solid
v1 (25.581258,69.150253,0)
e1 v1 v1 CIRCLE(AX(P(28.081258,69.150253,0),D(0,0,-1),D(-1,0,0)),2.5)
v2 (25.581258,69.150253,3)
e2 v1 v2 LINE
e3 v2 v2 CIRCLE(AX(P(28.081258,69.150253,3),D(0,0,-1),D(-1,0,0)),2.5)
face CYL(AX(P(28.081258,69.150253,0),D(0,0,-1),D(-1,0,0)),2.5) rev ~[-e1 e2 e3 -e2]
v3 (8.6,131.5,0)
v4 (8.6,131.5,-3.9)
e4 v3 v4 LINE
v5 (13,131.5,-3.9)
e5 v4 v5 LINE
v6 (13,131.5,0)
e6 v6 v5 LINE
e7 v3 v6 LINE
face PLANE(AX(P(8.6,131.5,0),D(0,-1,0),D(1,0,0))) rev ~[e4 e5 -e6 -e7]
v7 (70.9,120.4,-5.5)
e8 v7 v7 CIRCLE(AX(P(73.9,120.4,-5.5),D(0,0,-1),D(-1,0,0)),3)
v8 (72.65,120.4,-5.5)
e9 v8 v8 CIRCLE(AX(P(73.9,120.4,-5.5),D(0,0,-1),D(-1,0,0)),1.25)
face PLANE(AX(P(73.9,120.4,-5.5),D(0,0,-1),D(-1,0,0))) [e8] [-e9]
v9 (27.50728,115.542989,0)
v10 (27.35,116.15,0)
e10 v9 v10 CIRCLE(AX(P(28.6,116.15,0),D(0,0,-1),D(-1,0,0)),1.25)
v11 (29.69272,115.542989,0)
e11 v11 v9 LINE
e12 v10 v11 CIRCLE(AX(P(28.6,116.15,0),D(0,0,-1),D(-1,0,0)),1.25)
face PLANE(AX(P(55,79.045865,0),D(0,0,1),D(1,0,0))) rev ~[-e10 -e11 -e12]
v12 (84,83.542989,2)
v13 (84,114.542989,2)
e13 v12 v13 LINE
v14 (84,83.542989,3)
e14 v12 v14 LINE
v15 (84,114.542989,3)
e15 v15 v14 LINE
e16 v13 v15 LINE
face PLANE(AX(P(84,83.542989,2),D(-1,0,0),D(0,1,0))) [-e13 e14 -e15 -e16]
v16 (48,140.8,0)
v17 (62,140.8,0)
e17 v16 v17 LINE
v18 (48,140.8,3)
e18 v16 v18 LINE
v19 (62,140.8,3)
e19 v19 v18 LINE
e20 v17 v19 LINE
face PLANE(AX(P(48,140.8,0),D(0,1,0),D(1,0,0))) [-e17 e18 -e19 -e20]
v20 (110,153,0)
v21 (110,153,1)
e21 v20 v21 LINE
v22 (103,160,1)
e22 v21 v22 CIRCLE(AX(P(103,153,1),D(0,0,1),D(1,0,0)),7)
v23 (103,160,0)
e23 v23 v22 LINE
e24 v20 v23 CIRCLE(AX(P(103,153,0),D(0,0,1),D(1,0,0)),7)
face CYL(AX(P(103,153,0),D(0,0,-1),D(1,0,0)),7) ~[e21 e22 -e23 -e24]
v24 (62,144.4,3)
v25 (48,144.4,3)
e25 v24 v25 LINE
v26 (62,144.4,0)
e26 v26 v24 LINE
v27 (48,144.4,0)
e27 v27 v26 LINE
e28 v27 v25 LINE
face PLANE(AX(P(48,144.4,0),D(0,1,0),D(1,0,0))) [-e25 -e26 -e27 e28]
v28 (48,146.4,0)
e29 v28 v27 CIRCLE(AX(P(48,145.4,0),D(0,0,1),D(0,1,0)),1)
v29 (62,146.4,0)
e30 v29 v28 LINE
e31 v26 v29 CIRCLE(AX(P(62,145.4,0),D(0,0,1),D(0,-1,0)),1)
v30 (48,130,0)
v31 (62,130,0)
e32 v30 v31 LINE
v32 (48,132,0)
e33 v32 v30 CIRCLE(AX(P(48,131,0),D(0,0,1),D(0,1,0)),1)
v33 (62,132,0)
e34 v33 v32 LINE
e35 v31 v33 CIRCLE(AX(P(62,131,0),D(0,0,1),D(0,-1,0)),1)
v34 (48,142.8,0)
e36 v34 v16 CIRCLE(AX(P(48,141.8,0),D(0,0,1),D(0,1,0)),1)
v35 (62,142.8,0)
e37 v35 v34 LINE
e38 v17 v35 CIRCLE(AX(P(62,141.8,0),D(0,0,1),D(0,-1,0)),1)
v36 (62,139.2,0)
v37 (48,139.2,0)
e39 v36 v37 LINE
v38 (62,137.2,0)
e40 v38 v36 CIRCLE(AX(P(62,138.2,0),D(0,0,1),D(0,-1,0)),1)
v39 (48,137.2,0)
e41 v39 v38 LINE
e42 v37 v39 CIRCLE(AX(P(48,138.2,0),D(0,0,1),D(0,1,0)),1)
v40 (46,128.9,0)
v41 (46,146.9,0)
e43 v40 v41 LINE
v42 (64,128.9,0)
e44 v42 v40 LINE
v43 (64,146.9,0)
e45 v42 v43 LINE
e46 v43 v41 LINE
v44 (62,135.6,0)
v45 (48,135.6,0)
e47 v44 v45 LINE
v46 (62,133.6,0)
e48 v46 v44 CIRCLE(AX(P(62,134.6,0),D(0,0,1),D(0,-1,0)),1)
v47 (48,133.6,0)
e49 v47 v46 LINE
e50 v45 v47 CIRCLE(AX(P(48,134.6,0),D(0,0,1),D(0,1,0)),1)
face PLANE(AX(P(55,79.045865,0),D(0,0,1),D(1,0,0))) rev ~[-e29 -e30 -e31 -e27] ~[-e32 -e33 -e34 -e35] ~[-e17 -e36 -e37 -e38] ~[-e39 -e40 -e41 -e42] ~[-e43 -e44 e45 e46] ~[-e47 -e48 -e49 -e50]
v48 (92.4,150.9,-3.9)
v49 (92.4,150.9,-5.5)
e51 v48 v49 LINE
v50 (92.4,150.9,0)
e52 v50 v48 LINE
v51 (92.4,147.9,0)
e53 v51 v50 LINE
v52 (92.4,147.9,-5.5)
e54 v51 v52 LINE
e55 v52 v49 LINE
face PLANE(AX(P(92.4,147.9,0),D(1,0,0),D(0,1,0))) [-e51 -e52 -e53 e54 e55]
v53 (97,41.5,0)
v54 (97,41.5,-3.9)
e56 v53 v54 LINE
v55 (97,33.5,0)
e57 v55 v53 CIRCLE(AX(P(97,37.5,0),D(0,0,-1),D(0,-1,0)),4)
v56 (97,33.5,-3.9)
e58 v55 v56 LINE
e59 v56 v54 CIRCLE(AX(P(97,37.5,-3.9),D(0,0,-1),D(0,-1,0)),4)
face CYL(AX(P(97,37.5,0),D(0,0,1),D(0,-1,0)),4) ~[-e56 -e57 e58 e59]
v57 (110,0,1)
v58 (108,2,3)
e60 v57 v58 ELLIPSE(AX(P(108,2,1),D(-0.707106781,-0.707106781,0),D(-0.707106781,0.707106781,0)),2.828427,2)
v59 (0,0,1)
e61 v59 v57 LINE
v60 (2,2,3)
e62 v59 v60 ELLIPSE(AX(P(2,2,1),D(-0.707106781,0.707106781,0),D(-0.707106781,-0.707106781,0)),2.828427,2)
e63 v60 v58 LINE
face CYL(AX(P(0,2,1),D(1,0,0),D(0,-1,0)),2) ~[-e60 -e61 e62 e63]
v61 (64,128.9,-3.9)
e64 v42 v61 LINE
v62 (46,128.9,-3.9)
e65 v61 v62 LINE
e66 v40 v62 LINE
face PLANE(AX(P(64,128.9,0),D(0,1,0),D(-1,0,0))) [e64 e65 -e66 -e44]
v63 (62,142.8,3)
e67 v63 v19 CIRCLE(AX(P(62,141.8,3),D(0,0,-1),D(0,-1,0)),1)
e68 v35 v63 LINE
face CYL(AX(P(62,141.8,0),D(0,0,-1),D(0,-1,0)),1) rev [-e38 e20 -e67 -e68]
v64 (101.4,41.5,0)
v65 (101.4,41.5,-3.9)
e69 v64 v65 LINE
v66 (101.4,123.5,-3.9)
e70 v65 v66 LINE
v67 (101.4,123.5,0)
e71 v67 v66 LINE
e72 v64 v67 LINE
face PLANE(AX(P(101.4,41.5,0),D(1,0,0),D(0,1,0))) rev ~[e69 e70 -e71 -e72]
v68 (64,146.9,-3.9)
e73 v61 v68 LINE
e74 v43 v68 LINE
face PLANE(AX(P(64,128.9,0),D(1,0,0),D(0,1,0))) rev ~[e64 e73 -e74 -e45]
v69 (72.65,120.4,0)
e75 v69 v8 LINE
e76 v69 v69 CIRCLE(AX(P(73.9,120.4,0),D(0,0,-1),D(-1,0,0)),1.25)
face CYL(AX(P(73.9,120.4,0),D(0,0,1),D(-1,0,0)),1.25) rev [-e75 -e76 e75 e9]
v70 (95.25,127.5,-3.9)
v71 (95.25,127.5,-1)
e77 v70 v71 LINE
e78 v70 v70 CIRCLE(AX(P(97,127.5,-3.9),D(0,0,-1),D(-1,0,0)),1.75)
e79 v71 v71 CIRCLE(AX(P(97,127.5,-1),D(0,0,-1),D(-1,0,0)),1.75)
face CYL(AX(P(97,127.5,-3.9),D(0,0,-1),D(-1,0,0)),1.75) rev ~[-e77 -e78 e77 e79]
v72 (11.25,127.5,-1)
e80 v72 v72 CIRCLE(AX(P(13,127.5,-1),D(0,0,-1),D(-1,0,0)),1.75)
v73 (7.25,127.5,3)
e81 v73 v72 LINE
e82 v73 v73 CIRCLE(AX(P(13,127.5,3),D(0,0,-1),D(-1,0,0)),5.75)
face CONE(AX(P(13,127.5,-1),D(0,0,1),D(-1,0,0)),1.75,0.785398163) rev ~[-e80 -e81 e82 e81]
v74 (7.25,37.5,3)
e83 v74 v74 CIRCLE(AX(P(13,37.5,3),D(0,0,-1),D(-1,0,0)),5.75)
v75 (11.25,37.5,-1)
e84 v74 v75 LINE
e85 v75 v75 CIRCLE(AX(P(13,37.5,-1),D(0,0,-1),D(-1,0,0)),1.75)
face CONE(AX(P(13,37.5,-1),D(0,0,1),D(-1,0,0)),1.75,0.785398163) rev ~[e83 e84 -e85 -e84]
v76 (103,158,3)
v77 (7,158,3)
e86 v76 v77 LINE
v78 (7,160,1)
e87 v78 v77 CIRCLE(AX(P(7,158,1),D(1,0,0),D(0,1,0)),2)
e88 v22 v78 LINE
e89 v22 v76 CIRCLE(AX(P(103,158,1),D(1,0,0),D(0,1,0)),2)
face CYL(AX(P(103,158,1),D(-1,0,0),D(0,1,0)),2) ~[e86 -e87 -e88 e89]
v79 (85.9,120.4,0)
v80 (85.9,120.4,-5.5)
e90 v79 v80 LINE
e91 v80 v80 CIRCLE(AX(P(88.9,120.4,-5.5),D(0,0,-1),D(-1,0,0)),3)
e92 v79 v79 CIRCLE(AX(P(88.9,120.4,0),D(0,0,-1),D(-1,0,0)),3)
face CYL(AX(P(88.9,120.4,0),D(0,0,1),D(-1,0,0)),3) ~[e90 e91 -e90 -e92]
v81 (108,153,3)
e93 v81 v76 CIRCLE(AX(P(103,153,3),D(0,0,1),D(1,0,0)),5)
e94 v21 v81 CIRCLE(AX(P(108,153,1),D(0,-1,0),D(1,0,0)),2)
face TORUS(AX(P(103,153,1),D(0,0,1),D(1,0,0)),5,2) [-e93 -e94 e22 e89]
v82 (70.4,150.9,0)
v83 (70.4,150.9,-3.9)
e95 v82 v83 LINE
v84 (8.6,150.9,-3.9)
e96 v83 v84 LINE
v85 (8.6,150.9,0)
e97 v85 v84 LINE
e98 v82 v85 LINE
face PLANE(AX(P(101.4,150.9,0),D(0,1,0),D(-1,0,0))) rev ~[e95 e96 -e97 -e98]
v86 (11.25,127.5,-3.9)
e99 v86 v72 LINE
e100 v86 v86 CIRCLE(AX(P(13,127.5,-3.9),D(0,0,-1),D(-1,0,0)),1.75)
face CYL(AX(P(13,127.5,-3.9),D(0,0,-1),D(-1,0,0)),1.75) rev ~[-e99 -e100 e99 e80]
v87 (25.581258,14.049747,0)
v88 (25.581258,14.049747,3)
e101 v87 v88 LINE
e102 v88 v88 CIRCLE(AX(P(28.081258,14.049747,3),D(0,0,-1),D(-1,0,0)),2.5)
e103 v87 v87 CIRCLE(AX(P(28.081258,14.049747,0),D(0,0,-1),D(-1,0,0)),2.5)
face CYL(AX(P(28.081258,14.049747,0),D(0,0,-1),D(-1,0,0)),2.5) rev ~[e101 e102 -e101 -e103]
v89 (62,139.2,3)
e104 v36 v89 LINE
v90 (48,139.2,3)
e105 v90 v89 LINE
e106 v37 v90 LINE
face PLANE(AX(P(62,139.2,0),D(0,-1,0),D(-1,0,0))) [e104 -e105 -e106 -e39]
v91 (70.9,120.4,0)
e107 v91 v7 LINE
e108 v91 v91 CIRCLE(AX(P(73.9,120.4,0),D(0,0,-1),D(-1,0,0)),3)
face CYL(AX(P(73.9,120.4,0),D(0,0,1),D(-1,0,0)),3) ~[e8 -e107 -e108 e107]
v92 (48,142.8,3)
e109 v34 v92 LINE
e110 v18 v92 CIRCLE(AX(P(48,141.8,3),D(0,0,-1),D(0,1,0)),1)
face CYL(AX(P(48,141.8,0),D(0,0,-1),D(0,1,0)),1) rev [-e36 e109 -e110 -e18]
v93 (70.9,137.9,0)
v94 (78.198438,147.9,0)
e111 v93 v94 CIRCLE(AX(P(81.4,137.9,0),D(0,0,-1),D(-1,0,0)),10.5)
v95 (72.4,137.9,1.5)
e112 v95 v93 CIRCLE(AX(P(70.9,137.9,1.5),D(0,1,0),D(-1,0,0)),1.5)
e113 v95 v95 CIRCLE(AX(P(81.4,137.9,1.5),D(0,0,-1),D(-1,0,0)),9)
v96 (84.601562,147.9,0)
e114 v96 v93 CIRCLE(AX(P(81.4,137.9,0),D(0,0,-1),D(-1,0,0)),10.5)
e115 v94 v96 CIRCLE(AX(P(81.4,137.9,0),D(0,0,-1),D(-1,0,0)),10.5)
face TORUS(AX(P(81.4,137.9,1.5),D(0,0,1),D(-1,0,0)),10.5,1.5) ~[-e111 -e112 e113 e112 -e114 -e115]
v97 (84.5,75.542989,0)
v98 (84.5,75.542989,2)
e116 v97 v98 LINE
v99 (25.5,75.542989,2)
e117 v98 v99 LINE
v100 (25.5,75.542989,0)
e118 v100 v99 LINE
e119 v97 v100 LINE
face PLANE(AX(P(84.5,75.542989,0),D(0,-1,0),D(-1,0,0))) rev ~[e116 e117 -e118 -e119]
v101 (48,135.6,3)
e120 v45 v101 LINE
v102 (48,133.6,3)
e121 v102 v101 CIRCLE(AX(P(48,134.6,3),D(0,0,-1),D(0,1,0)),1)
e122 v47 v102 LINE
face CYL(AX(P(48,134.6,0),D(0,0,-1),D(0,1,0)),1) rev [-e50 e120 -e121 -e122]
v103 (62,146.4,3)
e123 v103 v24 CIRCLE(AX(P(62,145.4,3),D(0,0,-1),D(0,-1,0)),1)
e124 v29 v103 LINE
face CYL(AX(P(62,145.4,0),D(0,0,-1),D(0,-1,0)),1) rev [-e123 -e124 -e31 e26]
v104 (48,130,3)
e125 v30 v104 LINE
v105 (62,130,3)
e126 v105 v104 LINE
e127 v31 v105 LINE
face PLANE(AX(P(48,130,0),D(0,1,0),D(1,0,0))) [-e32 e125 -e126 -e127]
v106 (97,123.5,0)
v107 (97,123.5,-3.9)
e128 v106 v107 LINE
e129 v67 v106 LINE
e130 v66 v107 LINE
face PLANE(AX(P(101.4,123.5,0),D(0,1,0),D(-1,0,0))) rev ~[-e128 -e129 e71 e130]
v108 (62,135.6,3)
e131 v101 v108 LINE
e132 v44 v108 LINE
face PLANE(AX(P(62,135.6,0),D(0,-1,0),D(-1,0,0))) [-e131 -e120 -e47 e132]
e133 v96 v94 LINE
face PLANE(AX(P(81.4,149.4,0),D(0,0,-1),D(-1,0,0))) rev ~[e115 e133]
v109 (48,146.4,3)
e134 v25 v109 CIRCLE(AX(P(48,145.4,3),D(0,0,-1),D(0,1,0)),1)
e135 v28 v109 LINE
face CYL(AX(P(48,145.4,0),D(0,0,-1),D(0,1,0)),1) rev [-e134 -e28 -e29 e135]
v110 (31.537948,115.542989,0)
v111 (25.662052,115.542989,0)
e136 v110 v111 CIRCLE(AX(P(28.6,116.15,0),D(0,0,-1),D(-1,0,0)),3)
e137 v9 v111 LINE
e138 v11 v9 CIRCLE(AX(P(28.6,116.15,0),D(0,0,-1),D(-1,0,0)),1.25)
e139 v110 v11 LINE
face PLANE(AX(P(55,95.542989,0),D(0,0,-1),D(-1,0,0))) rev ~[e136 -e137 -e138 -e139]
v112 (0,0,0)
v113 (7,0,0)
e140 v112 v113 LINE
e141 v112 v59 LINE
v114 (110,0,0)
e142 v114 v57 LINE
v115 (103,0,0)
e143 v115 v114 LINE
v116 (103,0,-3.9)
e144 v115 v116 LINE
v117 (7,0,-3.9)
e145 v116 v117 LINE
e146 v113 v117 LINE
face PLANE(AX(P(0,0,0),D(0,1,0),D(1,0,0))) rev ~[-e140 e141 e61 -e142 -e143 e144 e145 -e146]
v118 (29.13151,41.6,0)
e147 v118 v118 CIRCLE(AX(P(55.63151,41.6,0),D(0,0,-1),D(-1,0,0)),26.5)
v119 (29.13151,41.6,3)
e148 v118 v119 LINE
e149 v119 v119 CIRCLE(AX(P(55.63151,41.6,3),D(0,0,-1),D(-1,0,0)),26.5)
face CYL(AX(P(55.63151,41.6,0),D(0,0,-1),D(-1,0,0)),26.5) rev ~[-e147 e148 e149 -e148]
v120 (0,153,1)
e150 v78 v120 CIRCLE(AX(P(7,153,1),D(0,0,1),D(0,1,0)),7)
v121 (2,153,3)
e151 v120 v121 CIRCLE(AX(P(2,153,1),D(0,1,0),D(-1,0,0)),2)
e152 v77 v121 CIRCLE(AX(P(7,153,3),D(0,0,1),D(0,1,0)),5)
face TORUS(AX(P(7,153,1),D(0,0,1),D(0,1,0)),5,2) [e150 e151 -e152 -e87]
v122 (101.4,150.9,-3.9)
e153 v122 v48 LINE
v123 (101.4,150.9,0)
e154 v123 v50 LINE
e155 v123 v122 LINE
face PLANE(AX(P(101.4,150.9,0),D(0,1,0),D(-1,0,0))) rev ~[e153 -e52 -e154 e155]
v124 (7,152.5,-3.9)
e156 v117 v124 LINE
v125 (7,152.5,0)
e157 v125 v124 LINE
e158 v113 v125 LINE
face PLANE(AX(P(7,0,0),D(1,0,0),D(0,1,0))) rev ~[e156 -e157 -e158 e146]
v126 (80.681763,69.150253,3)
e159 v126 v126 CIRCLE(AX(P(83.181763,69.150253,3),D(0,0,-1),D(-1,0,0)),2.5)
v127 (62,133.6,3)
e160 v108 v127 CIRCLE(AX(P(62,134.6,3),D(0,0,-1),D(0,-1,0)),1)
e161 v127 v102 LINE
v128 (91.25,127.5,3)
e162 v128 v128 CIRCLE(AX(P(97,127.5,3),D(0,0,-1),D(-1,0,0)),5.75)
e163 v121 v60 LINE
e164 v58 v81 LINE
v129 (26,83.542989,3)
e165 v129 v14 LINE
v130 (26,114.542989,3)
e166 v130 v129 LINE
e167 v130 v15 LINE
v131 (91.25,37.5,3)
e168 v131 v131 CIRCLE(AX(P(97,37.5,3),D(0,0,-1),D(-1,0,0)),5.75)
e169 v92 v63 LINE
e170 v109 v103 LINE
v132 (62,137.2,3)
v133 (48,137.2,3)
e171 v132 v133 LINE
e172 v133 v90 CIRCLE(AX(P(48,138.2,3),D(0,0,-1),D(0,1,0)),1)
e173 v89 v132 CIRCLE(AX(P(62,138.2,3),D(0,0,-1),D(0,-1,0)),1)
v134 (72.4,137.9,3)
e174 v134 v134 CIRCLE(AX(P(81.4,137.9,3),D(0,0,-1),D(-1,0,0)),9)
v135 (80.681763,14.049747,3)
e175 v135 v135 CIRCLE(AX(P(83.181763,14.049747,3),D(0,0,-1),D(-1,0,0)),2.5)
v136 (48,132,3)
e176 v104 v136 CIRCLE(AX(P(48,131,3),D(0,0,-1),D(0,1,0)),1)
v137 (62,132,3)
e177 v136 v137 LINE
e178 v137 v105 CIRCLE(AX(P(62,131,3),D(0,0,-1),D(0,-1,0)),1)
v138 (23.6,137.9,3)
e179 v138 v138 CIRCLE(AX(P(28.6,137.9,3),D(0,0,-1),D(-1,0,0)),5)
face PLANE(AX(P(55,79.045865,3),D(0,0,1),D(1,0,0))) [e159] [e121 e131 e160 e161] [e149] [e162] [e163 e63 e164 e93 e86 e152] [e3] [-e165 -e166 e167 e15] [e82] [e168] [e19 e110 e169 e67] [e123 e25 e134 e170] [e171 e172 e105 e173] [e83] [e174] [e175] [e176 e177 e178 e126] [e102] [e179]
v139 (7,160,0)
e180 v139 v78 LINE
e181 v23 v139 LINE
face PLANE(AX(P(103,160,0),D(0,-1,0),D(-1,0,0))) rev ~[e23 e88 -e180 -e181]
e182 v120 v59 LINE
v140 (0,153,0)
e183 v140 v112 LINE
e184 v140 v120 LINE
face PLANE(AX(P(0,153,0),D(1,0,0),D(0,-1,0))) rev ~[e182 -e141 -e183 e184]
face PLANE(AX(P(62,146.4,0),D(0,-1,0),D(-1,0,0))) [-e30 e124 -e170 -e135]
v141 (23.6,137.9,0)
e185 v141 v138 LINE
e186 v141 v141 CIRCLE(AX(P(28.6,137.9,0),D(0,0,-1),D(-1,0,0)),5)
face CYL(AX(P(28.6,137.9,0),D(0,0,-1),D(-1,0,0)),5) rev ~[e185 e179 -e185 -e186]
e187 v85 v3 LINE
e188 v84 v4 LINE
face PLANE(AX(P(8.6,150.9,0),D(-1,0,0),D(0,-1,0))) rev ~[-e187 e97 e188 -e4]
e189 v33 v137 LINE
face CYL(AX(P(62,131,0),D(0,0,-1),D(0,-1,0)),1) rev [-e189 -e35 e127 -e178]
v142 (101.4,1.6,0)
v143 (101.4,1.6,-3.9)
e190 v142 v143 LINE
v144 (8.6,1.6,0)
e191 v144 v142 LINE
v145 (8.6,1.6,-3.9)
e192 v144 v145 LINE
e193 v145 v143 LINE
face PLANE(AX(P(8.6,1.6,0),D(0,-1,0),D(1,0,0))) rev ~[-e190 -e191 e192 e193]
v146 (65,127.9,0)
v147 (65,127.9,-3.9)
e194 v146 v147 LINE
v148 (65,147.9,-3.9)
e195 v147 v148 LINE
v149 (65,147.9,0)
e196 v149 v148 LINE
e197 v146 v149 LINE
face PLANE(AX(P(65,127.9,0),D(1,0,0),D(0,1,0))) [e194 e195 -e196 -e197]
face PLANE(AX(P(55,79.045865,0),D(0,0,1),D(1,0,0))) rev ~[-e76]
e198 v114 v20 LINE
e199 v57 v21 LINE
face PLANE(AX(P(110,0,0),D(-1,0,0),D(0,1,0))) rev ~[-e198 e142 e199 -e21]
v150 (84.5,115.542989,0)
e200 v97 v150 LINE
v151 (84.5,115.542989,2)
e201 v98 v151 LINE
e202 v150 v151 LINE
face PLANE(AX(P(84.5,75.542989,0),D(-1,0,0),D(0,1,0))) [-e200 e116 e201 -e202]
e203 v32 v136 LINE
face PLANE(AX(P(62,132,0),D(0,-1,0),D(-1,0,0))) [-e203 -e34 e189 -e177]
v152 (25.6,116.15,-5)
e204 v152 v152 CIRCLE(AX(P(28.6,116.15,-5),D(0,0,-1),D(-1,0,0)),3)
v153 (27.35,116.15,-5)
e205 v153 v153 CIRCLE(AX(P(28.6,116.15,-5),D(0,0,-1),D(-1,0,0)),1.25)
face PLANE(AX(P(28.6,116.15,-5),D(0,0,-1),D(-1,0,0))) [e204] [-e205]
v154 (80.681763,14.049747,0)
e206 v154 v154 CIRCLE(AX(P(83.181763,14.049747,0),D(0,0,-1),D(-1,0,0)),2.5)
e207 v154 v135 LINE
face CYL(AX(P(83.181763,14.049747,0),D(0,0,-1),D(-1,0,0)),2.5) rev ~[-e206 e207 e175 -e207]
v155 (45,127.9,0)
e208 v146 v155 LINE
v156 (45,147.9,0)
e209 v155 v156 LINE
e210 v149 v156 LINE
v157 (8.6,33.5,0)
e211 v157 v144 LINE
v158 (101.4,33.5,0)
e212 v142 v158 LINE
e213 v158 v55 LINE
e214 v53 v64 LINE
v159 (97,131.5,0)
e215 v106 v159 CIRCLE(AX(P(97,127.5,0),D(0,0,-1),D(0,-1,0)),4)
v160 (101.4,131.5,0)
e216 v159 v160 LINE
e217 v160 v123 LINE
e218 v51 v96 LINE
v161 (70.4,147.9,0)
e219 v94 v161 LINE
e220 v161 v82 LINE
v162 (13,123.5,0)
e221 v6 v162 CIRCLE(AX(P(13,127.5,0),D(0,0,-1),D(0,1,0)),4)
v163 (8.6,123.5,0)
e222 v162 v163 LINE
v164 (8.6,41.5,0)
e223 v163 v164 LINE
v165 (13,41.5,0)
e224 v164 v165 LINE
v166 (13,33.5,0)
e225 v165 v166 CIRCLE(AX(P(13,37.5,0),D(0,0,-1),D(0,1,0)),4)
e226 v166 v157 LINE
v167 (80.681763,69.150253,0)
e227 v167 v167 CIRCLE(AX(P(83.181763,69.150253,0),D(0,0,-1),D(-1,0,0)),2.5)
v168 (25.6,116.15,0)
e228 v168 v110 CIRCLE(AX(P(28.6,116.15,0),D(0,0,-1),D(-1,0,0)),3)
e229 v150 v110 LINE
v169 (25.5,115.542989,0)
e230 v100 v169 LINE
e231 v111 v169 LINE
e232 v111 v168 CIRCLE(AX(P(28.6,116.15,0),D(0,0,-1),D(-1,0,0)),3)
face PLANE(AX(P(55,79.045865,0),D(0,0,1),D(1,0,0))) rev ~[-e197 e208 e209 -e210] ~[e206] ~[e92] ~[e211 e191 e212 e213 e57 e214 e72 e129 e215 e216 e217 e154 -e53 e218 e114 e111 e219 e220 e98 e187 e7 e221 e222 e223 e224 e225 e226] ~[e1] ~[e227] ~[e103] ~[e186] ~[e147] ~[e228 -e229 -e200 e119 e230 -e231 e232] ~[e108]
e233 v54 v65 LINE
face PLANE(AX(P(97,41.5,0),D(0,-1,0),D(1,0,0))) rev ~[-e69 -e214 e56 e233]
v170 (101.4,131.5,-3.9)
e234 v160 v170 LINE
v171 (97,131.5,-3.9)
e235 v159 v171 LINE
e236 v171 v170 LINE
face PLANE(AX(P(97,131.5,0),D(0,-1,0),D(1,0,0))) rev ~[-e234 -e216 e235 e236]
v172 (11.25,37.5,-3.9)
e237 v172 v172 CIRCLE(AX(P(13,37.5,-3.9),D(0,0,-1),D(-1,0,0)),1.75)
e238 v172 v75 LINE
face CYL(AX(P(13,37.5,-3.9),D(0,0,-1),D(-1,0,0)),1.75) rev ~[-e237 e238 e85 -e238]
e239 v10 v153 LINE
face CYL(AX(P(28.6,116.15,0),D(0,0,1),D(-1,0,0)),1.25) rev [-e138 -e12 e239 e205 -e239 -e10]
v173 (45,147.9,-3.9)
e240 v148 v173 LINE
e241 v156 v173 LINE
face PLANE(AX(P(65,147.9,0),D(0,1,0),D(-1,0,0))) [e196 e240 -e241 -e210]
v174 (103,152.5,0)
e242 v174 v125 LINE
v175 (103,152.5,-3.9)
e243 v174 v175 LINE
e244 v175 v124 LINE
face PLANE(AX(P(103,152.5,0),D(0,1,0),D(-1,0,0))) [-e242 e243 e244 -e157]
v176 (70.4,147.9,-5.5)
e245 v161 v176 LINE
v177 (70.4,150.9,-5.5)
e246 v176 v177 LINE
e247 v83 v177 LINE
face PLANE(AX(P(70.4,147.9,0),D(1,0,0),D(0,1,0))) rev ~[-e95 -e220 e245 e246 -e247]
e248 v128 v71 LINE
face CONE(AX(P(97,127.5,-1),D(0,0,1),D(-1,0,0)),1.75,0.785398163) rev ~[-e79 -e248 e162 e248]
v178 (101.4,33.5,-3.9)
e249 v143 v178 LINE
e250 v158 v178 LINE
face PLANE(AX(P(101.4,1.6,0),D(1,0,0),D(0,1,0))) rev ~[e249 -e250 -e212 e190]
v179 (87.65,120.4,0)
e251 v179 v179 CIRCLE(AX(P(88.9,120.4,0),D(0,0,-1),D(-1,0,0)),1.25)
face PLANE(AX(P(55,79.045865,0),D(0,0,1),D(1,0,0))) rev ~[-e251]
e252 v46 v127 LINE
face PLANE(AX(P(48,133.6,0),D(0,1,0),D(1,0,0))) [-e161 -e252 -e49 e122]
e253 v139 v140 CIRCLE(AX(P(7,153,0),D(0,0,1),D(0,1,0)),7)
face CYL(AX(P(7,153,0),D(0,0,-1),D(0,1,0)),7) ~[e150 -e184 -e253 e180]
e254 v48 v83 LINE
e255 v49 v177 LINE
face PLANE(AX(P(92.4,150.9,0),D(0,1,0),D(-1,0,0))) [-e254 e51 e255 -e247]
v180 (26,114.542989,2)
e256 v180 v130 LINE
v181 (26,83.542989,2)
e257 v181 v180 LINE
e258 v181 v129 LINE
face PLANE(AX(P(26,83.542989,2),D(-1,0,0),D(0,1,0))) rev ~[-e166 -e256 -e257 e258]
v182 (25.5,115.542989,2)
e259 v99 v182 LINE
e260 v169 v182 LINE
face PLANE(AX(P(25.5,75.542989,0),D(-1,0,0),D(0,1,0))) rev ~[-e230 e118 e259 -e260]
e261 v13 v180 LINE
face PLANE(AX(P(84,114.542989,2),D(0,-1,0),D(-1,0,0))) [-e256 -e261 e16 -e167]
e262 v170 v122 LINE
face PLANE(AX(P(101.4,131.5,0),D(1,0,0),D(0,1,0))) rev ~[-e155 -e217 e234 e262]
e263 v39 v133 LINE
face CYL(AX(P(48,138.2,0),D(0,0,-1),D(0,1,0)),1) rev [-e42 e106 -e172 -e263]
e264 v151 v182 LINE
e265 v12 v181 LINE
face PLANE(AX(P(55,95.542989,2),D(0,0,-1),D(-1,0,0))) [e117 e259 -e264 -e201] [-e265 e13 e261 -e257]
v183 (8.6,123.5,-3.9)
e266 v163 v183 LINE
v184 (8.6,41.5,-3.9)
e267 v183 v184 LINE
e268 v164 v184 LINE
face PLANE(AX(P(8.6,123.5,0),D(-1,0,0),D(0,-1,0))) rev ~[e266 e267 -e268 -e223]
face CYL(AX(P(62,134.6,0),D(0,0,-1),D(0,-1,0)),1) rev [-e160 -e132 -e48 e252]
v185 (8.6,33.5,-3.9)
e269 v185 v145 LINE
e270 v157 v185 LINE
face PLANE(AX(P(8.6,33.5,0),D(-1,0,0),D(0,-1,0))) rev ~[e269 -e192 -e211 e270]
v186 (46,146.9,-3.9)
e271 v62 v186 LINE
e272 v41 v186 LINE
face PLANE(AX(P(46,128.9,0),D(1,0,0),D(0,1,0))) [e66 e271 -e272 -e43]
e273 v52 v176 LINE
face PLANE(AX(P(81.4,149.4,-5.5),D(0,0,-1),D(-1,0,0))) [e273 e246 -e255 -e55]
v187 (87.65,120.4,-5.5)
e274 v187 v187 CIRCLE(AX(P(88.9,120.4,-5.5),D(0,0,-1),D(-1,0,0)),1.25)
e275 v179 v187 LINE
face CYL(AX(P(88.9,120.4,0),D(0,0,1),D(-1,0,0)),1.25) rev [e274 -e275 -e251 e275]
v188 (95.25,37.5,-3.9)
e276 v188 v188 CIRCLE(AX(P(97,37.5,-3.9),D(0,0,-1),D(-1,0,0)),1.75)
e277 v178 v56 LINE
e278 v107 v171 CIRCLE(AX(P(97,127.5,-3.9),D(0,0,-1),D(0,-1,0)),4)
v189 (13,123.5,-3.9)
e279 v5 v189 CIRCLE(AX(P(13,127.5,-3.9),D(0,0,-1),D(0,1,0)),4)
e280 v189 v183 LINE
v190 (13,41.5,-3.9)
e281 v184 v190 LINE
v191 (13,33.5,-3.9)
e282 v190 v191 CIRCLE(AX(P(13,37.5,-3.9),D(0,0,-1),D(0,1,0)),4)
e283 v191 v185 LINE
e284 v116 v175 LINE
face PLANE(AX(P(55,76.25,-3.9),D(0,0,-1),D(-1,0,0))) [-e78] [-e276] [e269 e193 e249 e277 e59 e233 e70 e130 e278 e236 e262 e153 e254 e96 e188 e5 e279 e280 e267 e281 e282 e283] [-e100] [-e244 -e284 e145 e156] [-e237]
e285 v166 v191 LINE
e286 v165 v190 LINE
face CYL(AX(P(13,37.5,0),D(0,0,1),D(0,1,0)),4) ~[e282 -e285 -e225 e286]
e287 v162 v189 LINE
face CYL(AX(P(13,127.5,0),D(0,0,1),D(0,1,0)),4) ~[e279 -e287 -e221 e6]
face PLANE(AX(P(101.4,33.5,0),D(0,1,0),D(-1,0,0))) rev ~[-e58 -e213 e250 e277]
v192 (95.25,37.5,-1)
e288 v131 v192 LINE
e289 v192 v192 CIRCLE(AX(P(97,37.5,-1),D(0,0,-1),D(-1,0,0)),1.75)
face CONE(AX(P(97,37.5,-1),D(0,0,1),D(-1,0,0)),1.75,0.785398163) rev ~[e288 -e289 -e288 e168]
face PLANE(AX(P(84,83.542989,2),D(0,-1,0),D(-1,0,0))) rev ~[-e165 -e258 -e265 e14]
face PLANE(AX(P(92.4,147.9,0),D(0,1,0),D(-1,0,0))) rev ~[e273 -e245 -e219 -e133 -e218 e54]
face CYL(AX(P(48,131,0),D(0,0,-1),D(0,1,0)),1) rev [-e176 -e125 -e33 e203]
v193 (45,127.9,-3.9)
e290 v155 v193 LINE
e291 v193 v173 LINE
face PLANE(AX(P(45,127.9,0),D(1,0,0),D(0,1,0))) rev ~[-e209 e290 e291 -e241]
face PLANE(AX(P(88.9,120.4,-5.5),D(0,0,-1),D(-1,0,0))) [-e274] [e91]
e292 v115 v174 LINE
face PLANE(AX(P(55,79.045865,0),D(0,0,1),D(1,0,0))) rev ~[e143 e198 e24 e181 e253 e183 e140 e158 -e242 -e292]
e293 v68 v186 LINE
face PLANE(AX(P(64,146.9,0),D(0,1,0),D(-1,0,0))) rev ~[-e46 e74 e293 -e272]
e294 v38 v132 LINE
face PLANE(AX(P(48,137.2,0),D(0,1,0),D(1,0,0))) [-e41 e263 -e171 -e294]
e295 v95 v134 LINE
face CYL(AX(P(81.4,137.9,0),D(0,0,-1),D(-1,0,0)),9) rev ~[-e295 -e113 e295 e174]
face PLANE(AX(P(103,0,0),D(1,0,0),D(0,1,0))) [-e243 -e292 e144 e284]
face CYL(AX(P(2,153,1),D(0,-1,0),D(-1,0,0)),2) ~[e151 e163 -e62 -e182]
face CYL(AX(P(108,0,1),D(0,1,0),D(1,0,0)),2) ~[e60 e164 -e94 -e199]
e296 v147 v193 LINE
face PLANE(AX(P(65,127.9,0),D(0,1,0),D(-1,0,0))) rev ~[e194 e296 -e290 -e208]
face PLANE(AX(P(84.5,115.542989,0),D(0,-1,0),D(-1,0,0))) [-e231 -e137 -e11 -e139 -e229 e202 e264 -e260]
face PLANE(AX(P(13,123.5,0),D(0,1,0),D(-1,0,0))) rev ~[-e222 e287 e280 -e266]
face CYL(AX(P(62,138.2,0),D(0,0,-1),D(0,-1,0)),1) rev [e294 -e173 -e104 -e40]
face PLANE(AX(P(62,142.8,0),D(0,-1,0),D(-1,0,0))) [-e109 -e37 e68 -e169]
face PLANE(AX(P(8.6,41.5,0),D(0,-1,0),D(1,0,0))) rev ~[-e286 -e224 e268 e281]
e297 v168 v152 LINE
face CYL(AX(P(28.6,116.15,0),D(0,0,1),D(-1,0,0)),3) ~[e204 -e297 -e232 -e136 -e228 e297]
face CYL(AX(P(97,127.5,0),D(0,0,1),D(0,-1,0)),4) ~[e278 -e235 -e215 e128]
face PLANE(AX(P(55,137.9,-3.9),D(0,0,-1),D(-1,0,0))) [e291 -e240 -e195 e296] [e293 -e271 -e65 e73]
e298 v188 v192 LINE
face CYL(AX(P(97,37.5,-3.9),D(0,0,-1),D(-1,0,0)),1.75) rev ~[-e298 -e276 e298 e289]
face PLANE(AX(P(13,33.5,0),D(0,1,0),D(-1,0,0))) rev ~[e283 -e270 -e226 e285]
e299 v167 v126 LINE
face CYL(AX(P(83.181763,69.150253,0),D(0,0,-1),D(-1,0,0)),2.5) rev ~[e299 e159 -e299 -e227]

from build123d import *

# Parameters (mm, degrees)
BOSS_EXTRUDE1_DEPTH     = 3
FILLET1_R               = 2
SKETCH3_W               = 96
SKETCH3_H               = 152.5
BOSS_EXTRUDE2_DEPTH     = 3.9
CUT_EXTRUDE1_REACH      = 196.287
SKETCH4_R               = 1.75
CHAMFER1_SIZE           = 4
SKETCH5_R               = 5
SKETCH5_R_2             = 9
CUT_EXTRUDE2_DEPTH      = 195.204042265
FILLET2_R               = 1.5
SKETCH7_W               = 20
SKETCH7_H               = 20
SKETCH7_W_2             = 18
SKETCH7_H_2             = 18
BOSS_EXTRUDE3_DEPTH     = 3.9
CUT_EXTRUDE3_DEPTH      = 195.204042265
CROQUIS1_R              = 3
CROQUIS1_R_2            = 1.25
SALIENTE_EXTRUIR1_DEPTH = 5
CROQUIS2_R              = 3
CROQUIS2_R_2            = 1.25
CROQUIS2_W              = 22
CROQUIS2_H              = 3
SALIENTE_EXTRUIR2_DEPTH = 5.5
CORTAR_EXTRUIR1_REACH   = 196.243
CROQUIS3_R              = 26.5
CORTAR_EXTRUIR2_REACH   = 196.243
CROQUIS4_R              = 2.5
CROQUIS5_W              = 59
CROQUIS5_H              = 40
CORTAR_EXTRUIR3_DEPTH   = 2
CROQUIS6_W              = 58
CROQUIS6_H              = 31
CORTAR_EXTRUIR4_DEPTH   = 2


with BuildPart() as part:
    # Sketch1 → Boss-Extrude1 (new body)
    with BuildSketch(Plane.XY):
        with BuildLine():
            Line((0, 0), (110, 0))
            Line((110, 0), (110, 153))
            ThreePointArc((110, 153), (107.949747468, 157.949747468), (103, 160))
            Line((103, 160), (7, 160))
            ThreePointArc((7, 160), (2.050252532, 157.949747468), (0, 153))
            Line((0, 153), (0, 0))
        make_face()
    extrude(amount=BOSS_EXTRUDE1_DEPTH)

    # Fillet1
    fillet1_edges = [part.edges().sort_by_distance(p)[0] for p in [
        (110, 76.5, 3),
        (107.949747468, 157.949747468, 3),
        (55, 160, 3),
        (2.050252532, 157.949747468, 3),
        (0, 76.5, 3),
        (55, 0, 3),
    ]]
    fillet(fillet1_edges, radius=FILLET1_R)

    # Sketch3 → Boss-Extrude2 (add)
    with BuildSketch(Plane(origin=(0, 0, 0), x_dir=(-1, 0, 0), z_dir=(0, 0, -1))):
        with Locations((-55, 76.25)):
            Rectangle(SKETCH3_W, SKETCH3_H)
        with BuildLine():
            Line((-101.4, 1.6), (-101.4, 33.5))
            Line((-101.4, 33.5), (-97, 33.5))
            ThreePointArc((-97, 33.5), (-93, 37.5), (-97, 41.5))
            Line((-97, 41.5), (-101.4, 41.5))
            Line((-101.4, 41.5), (-101.4, 123.5))
            Line((-101.4, 123.5), (-97, 123.5))
            ThreePointArc((-97, 123.5), (-93, 127.5), (-97, 131.5))
            Line((-97, 131.5), (-101.4, 131.5))
            Line((-101.4, 131.5), (-101.4, 150.9))
            Line((-101.4, 150.9), (-8.6, 150.9))
            Line((-8.6, 150.9), (-8.6, 131.5))
            Line((-8.6, 131.5), (-13, 131.5))
            ThreePointArc((-13, 131.5), (-17, 127.5), (-13, 123.5))
            Line((-13, 123.5), (-8.6, 123.5))
            Line((-8.6, 123.5), (-8.6, 41.5))
            Line((-8.6, 41.5), (-13, 41.5))
            ThreePointArc((-13, 41.5), (-17, 37.5), (-13, 33.5))
            Line((-13, 33.5), (-8.6, 33.5))
            Line((-8.6, 33.5), (-8.6, 1.6))
            Line((-8.6, 1.6), (-101.4, 1.6))
        make_face(mode=Mode.SUBTRACT)
    extrude(amount=BOSS_EXTRUDE2_DEPTH)

    # Sketch4 → Cut-Extrude1 (cut, up to next)
    with BuildSketch(Plane(origin=(0, 0, -3.9), x_dir=(-1, 0, 0), z_dir=(0, 0, -1)), mode=Mode.PRIVATE) as cut_extrude1_sk1:
        with Locations((-97, 127.5)):
            Circle(SKETCH4_R)
    cut_extrude1_tool1 = extrude(cut_extrude1_sk1.sketch, amount=-CUT_EXTRUDE1_REACH, mode=Mode.PRIVATE) & part.part
    # Sketch4 → Cut-Extrude1 (cut, up to next)
    with BuildSketch(Plane(origin=(0, 0, -3.9), x_dir=(-1, 0, 0), z_dir=(0, 0, -1)), mode=Mode.PRIVATE) as cut_extrude1_sk2:
        with Locations((-13, 127.5)):
            Circle(SKETCH4_R)
    cut_extrude1_tool2 = extrude(cut_extrude1_sk2.sketch, amount=-CUT_EXTRUDE1_REACH, mode=Mode.PRIVATE) & part.part
    # Sketch4 → Cut-Extrude1 (cut, up to next)
    with BuildSketch(Plane(origin=(0, 0, -3.9), x_dir=(-1, 0, 0), z_dir=(0, 0, -1)), mode=Mode.PRIVATE) as cut_extrude1_sk3:
        with Locations((-13, 37.5)):
            Circle(SKETCH4_R)
    cut_extrude1_tool3 = extrude(cut_extrude1_sk3.sketch, amount=-CUT_EXTRUDE1_REACH, mode=Mode.PRIVATE) & part.part
    # Sketch4 → Cut-Extrude1 (cut, up to next)
    with BuildSketch(Plane(origin=(0, 0, -3.9), x_dir=(-1, 0, 0), z_dir=(0, 0, -1)), mode=Mode.PRIVATE) as cut_extrude1_sk4:
        with Locations((-97, 37.5)):
            Circle(SKETCH4_R)
    cut_extrude1_tool4 = extrude(cut_extrude1_sk4.sketch, amount=-CUT_EXTRUDE1_REACH, mode=Mode.PRIVATE) & part.part
    add(cut_extrude1_tool1.solids().sort_by_distance((97, 127.5, -3.9))[0], mode=Mode.SUBTRACT)
    add(cut_extrude1_tool2.solids().sort_by_distance((13, 127.5, -3.9))[0], mode=Mode.SUBTRACT)
    add(cut_extrude1_tool3.solids().sort_by_distance((13, 37.5, -3.9))[0], mode=Mode.SUBTRACT)
    add(cut_extrude1_tool4.solids().sort_by_distance((97, 37.5, -3.9))[0], mode=Mode.SUBTRACT)

    # Chamfer1
    chamfer1_edges = [part.edges().sort_by_distance(p)[0] for p in [
        (98.75, 37.5, 3),
        (14.75, 37.5, 3),
        (14.75, 127.5, 3),
        (98.75, 127.5, 3),
    ]]
    chamfer(chamfer1_edges, length=CHAMFER1_SIZE)

    # Sketch5 → Cut-Extrude2 (cut, through all)
    with BuildSketch(Plane(origin=(0, 0, 0), x_dir=(-1, 0, 0), z_dir=(0, 0, -1))):
        with Locations((-28.6, 137.9)):
            Circle(SKETCH5_R)
        with Locations((-81.4, 137.9)):
            Circle(SKETCH5_R_2)
    extrude(amount=-CUT_EXTRUDE2_DEPTH, mode=Mode.SUBTRACT)

    # Fillet2
    fillet2_edges = [part.edges().sort_by_distance(p)[0] for p in [
        (90.4, 137.9, 0),
    ]]
    fillet(fillet2_edges, radius=FILLET2_R)

    # Sketch7 → Boss-Extrude3 (add)
    with BuildSketch(Plane(origin=(0, 0, 0), x_dir=(-1, 0, 0), z_dir=(0, 0, -1))):
        with Locations((-55, 137.9)):
            Rectangle(SKETCH7_W, SKETCH7_H)
        with Locations((-55, 137.9)):
            Rectangle(SKETCH7_W_2, SKETCH7_H_2, mode=Mode.SUBTRACT)
    extrude(amount=BOSS_EXTRUDE3_DEPTH)

    # Sketch8 → Cut-Extrude3 (cut, through all)
    with BuildSketch(Plane(origin=(0, 0, 0), x_dir=(-1, 0, 0), z_dir=(0, 0, -1))):
        with BuildLine():
            Line((-62, 146.4), (-48, 146.4))
            ThreePointArc((-48, 146.4), (-47, 145.4), (-48, 144.4))
            Line((-48, 144.4), (-62, 144.4))
            ThreePointArc((-62, 144.4), (-63, 145.4), (-62, 146.4))
        make_face()
        with BuildLine():
            Line((-62, 142.8), (-48, 142.8))
            ThreePointArc((-48, 142.8), (-47, 141.8), (-48, 140.8))
            Line((-48, 140.8), (-62, 140.8))
            ThreePointArc((-62, 140.8), (-63, 141.8), (-62, 142.8))
        make_face()
        with BuildLine():
            Line((-62, 139.2), (-48, 139.2))
            ThreePointArc((-48, 139.2), (-47, 138.2), (-48, 137.2))
            Line((-48, 137.2), (-62, 137.2))
            ThreePointArc((-62, 137.2), (-63, 138.2), (-62, 139.2))
        make_face()
        with BuildLine():
            Line((-62, 135.6), (-48, 135.6))
            ThreePointArc((-48, 135.6), (-47, 134.6), (-48, 133.6))
            Line((-48, 133.6), (-62, 133.6))
            ThreePointArc((-62, 133.6), (-63, 134.6), (-62, 135.6))
        make_face()
        with BuildLine():
            Line((-62, 132), (-48, 132))
            ThreePointArc((-48, 132), (-47, 131), (-48, 130))
            Line((-48, 130), (-62, 130))
            ThreePointArc((-62, 130), (-63, 131), (-62, 132))
        make_face()
    extrude(amount=-CUT_EXTRUDE3_DEPTH, mode=Mode.SUBTRACT)

    # Croquis1 → Saliente-Extruir1 (add)
    with BuildSketch(Plane(origin=(0, 0, 0), x_dir=(-1, 0, 0), z_dir=(0, 0, -1))):
        with Locations((-28.6, 116.15)):
            Circle(CROQUIS1_R)
        with Locations((-28.6, 116.15)):
            Circle(CROQUIS1_R_2, mode=Mode.SUBTRACT)
    extrude(amount=SALIENTE_EXTRUIR1_DEPTH)

    # Croquis2 → Saliente-Extruir2 (add)
    # profile 1 of 3: a face of its own
    with BuildSketch(Plane(origin=(0, 0, 0), x_dir=(-1, 0, 0), z_dir=(0, 0, -1))):
        with Locations((-88.9, 120.4)):
            Circle(CROQUIS2_R)
        with Locations((-88.9, 120.4)):
            Circle(CROQUIS2_R_2, mode=Mode.SUBTRACT)
    # profile 2 of 3: a face of its own
    with BuildSketch(Plane(origin=(0, 0, 0), x_dir=(-1, 0, 0), z_dir=(0, 0, -1))):
        with Locations((-73.9, 120.4)):
            Circle(CROQUIS2_R)
        with Locations((-73.9, 120.4)):
            Circle(CROQUIS2_R_2, mode=Mode.SUBTRACT)
    # profile 3 of 3: a face of its own
    with BuildSketch(Plane(origin=(0, 0, 0), x_dir=(-1, 0, 0), z_dir=(0, 0, -1))):
        with Locations((-81.4, 149.4)):
            Rectangle(CROQUIS2_W, CROQUIS2_H)
    extrude(amount=SALIENTE_EXTRUIR2_DEPTH)

    # Croquis3 → Cortar-Extruir1 (cut, up to next)
    with BuildSketch(Plane(origin=(0, 0, 0), x_dir=(-1, 0, 0), z_dir=(0, 0, -1)), mode=Mode.PRIVATE) as cortar_extruir1_sk1:
        with Locations((-55.631510191, 41.6)):
            Circle(CROQUIS3_R)
    cortar_extruir1_tool1 = extrude(cortar_extruir1_sk1.sketch, amount=-CORTAR_EXTRUIR1_REACH, mode=Mode.PRIVATE) & part.part
    add(cortar_extruir1_tool1.solids().sort_by_distance((55.63151, 41.6, 0))[0], mode=Mode.SUBTRACT)

    # Croquis4 → Cortar-Extruir2 (cut, up to next)
    with BuildSketch(Plane(origin=(0, 0, 0), x_dir=(-1, 0, 0), z_dir=(0, 0, -1)), mode=Mode.PRIVATE) as cortar_extruir2_sk1:
        with Locations((-83.181762723, 69.150252532)):
            Circle(CROQUIS4_R)
    cortar_extruir2_tool1 = extrude(cortar_extruir2_sk1.sketch, amount=-CORTAR_EXTRUIR2_REACH, mode=Mode.PRIVATE) & part.part
    # Croquis4 → Cortar-Extruir2 (cut, up to next)
    with BuildSketch(Plane(origin=(0, 0, 0), x_dir=(-1, 0, 0), z_dir=(0, 0, -1)), mode=Mode.PRIVATE) as cortar_extruir2_sk2:
        with Locations((-28.081257659, 69.150252532)):
            Circle(CROQUIS4_R)
    cortar_extruir2_tool2 = extrude(cortar_extruir2_sk2.sketch, amount=-CORTAR_EXTRUIR2_REACH, mode=Mode.PRIVATE) & part.part
    # Croquis4 → Cortar-Extruir2 (cut, up to next)
    with BuildSketch(Plane(origin=(0, 0, 0), x_dir=(-1, 0, 0), z_dir=(0, 0, -1)), mode=Mode.PRIVATE) as cortar_extruir2_sk3:
        with Locations((-28.081257659, 14.049747468)):
            Circle(CROQUIS4_R)
    cortar_extruir2_tool3 = extrude(cortar_extruir2_sk3.sketch, amount=-CORTAR_EXTRUIR2_REACH, mode=Mode.PRIVATE) & part.part
    # Croquis4 → Cortar-Extruir2 (cut, up to next)
    with BuildSketch(Plane(origin=(0, 0, 0), x_dir=(-1, 0, 0), z_dir=(0, 0, -1)), mode=Mode.PRIVATE) as cortar_extruir2_sk4:
        with Locations((-83.181762723, 14.049747468)):
            Circle(CROQUIS4_R)
    cortar_extruir2_tool4 = extrude(cortar_extruir2_sk4.sketch, amount=-CORTAR_EXTRUIR2_REACH, mode=Mode.PRIVATE) & part.part
    add(cortar_extruir2_tool1.solids().sort_by_distance((83.181763, 69.150253, 0))[0], mode=Mode.SUBTRACT)
    add(cortar_extruir2_tool2.solids().sort_by_distance((28.081258, 69.150253, 0))[0], mode=Mode.SUBTRACT)
    add(cortar_extruir2_tool3.solids().sort_by_distance((28.081258, 14.049747, 0))[0], mode=Mode.SUBTRACT)
    add(cortar_extruir2_tool4.solids().sort_by_distance((83.181763, 14.049747, 0))[0], mode=Mode.SUBTRACT)

    # Croquis5 → Cortar-Extruir3 (cut)
    with BuildSketch(Plane(origin=(0, 0, 0), x_dir=(-1, 0, 0), z_dir=(0, 0, -1))):
        with Locations((-55, 95.542989332)):
            Rectangle(CROQUIS5_W, CROQUIS5_H)
    extrude(amount=-CORTAR_EXTRUIR3_DEPTH, mode=Mode.SUBTRACT)

    # Croquis6 → Cortar-Extruir4 (cut)
    with BuildSketch(Plane(origin=(0, 0, 2), x_dir=(-1, 0, 0), z_dir=(0, 0, -1))):
        with Locations((-55, 99.042989332)):
            Rectangle(CROQUIS6_W, CROQUIS6_H)
    extrude(amount=-CORTAR_EXTRUIR4_DEPTH, mode=Mode.SUBTRACT)


solid = part.part
